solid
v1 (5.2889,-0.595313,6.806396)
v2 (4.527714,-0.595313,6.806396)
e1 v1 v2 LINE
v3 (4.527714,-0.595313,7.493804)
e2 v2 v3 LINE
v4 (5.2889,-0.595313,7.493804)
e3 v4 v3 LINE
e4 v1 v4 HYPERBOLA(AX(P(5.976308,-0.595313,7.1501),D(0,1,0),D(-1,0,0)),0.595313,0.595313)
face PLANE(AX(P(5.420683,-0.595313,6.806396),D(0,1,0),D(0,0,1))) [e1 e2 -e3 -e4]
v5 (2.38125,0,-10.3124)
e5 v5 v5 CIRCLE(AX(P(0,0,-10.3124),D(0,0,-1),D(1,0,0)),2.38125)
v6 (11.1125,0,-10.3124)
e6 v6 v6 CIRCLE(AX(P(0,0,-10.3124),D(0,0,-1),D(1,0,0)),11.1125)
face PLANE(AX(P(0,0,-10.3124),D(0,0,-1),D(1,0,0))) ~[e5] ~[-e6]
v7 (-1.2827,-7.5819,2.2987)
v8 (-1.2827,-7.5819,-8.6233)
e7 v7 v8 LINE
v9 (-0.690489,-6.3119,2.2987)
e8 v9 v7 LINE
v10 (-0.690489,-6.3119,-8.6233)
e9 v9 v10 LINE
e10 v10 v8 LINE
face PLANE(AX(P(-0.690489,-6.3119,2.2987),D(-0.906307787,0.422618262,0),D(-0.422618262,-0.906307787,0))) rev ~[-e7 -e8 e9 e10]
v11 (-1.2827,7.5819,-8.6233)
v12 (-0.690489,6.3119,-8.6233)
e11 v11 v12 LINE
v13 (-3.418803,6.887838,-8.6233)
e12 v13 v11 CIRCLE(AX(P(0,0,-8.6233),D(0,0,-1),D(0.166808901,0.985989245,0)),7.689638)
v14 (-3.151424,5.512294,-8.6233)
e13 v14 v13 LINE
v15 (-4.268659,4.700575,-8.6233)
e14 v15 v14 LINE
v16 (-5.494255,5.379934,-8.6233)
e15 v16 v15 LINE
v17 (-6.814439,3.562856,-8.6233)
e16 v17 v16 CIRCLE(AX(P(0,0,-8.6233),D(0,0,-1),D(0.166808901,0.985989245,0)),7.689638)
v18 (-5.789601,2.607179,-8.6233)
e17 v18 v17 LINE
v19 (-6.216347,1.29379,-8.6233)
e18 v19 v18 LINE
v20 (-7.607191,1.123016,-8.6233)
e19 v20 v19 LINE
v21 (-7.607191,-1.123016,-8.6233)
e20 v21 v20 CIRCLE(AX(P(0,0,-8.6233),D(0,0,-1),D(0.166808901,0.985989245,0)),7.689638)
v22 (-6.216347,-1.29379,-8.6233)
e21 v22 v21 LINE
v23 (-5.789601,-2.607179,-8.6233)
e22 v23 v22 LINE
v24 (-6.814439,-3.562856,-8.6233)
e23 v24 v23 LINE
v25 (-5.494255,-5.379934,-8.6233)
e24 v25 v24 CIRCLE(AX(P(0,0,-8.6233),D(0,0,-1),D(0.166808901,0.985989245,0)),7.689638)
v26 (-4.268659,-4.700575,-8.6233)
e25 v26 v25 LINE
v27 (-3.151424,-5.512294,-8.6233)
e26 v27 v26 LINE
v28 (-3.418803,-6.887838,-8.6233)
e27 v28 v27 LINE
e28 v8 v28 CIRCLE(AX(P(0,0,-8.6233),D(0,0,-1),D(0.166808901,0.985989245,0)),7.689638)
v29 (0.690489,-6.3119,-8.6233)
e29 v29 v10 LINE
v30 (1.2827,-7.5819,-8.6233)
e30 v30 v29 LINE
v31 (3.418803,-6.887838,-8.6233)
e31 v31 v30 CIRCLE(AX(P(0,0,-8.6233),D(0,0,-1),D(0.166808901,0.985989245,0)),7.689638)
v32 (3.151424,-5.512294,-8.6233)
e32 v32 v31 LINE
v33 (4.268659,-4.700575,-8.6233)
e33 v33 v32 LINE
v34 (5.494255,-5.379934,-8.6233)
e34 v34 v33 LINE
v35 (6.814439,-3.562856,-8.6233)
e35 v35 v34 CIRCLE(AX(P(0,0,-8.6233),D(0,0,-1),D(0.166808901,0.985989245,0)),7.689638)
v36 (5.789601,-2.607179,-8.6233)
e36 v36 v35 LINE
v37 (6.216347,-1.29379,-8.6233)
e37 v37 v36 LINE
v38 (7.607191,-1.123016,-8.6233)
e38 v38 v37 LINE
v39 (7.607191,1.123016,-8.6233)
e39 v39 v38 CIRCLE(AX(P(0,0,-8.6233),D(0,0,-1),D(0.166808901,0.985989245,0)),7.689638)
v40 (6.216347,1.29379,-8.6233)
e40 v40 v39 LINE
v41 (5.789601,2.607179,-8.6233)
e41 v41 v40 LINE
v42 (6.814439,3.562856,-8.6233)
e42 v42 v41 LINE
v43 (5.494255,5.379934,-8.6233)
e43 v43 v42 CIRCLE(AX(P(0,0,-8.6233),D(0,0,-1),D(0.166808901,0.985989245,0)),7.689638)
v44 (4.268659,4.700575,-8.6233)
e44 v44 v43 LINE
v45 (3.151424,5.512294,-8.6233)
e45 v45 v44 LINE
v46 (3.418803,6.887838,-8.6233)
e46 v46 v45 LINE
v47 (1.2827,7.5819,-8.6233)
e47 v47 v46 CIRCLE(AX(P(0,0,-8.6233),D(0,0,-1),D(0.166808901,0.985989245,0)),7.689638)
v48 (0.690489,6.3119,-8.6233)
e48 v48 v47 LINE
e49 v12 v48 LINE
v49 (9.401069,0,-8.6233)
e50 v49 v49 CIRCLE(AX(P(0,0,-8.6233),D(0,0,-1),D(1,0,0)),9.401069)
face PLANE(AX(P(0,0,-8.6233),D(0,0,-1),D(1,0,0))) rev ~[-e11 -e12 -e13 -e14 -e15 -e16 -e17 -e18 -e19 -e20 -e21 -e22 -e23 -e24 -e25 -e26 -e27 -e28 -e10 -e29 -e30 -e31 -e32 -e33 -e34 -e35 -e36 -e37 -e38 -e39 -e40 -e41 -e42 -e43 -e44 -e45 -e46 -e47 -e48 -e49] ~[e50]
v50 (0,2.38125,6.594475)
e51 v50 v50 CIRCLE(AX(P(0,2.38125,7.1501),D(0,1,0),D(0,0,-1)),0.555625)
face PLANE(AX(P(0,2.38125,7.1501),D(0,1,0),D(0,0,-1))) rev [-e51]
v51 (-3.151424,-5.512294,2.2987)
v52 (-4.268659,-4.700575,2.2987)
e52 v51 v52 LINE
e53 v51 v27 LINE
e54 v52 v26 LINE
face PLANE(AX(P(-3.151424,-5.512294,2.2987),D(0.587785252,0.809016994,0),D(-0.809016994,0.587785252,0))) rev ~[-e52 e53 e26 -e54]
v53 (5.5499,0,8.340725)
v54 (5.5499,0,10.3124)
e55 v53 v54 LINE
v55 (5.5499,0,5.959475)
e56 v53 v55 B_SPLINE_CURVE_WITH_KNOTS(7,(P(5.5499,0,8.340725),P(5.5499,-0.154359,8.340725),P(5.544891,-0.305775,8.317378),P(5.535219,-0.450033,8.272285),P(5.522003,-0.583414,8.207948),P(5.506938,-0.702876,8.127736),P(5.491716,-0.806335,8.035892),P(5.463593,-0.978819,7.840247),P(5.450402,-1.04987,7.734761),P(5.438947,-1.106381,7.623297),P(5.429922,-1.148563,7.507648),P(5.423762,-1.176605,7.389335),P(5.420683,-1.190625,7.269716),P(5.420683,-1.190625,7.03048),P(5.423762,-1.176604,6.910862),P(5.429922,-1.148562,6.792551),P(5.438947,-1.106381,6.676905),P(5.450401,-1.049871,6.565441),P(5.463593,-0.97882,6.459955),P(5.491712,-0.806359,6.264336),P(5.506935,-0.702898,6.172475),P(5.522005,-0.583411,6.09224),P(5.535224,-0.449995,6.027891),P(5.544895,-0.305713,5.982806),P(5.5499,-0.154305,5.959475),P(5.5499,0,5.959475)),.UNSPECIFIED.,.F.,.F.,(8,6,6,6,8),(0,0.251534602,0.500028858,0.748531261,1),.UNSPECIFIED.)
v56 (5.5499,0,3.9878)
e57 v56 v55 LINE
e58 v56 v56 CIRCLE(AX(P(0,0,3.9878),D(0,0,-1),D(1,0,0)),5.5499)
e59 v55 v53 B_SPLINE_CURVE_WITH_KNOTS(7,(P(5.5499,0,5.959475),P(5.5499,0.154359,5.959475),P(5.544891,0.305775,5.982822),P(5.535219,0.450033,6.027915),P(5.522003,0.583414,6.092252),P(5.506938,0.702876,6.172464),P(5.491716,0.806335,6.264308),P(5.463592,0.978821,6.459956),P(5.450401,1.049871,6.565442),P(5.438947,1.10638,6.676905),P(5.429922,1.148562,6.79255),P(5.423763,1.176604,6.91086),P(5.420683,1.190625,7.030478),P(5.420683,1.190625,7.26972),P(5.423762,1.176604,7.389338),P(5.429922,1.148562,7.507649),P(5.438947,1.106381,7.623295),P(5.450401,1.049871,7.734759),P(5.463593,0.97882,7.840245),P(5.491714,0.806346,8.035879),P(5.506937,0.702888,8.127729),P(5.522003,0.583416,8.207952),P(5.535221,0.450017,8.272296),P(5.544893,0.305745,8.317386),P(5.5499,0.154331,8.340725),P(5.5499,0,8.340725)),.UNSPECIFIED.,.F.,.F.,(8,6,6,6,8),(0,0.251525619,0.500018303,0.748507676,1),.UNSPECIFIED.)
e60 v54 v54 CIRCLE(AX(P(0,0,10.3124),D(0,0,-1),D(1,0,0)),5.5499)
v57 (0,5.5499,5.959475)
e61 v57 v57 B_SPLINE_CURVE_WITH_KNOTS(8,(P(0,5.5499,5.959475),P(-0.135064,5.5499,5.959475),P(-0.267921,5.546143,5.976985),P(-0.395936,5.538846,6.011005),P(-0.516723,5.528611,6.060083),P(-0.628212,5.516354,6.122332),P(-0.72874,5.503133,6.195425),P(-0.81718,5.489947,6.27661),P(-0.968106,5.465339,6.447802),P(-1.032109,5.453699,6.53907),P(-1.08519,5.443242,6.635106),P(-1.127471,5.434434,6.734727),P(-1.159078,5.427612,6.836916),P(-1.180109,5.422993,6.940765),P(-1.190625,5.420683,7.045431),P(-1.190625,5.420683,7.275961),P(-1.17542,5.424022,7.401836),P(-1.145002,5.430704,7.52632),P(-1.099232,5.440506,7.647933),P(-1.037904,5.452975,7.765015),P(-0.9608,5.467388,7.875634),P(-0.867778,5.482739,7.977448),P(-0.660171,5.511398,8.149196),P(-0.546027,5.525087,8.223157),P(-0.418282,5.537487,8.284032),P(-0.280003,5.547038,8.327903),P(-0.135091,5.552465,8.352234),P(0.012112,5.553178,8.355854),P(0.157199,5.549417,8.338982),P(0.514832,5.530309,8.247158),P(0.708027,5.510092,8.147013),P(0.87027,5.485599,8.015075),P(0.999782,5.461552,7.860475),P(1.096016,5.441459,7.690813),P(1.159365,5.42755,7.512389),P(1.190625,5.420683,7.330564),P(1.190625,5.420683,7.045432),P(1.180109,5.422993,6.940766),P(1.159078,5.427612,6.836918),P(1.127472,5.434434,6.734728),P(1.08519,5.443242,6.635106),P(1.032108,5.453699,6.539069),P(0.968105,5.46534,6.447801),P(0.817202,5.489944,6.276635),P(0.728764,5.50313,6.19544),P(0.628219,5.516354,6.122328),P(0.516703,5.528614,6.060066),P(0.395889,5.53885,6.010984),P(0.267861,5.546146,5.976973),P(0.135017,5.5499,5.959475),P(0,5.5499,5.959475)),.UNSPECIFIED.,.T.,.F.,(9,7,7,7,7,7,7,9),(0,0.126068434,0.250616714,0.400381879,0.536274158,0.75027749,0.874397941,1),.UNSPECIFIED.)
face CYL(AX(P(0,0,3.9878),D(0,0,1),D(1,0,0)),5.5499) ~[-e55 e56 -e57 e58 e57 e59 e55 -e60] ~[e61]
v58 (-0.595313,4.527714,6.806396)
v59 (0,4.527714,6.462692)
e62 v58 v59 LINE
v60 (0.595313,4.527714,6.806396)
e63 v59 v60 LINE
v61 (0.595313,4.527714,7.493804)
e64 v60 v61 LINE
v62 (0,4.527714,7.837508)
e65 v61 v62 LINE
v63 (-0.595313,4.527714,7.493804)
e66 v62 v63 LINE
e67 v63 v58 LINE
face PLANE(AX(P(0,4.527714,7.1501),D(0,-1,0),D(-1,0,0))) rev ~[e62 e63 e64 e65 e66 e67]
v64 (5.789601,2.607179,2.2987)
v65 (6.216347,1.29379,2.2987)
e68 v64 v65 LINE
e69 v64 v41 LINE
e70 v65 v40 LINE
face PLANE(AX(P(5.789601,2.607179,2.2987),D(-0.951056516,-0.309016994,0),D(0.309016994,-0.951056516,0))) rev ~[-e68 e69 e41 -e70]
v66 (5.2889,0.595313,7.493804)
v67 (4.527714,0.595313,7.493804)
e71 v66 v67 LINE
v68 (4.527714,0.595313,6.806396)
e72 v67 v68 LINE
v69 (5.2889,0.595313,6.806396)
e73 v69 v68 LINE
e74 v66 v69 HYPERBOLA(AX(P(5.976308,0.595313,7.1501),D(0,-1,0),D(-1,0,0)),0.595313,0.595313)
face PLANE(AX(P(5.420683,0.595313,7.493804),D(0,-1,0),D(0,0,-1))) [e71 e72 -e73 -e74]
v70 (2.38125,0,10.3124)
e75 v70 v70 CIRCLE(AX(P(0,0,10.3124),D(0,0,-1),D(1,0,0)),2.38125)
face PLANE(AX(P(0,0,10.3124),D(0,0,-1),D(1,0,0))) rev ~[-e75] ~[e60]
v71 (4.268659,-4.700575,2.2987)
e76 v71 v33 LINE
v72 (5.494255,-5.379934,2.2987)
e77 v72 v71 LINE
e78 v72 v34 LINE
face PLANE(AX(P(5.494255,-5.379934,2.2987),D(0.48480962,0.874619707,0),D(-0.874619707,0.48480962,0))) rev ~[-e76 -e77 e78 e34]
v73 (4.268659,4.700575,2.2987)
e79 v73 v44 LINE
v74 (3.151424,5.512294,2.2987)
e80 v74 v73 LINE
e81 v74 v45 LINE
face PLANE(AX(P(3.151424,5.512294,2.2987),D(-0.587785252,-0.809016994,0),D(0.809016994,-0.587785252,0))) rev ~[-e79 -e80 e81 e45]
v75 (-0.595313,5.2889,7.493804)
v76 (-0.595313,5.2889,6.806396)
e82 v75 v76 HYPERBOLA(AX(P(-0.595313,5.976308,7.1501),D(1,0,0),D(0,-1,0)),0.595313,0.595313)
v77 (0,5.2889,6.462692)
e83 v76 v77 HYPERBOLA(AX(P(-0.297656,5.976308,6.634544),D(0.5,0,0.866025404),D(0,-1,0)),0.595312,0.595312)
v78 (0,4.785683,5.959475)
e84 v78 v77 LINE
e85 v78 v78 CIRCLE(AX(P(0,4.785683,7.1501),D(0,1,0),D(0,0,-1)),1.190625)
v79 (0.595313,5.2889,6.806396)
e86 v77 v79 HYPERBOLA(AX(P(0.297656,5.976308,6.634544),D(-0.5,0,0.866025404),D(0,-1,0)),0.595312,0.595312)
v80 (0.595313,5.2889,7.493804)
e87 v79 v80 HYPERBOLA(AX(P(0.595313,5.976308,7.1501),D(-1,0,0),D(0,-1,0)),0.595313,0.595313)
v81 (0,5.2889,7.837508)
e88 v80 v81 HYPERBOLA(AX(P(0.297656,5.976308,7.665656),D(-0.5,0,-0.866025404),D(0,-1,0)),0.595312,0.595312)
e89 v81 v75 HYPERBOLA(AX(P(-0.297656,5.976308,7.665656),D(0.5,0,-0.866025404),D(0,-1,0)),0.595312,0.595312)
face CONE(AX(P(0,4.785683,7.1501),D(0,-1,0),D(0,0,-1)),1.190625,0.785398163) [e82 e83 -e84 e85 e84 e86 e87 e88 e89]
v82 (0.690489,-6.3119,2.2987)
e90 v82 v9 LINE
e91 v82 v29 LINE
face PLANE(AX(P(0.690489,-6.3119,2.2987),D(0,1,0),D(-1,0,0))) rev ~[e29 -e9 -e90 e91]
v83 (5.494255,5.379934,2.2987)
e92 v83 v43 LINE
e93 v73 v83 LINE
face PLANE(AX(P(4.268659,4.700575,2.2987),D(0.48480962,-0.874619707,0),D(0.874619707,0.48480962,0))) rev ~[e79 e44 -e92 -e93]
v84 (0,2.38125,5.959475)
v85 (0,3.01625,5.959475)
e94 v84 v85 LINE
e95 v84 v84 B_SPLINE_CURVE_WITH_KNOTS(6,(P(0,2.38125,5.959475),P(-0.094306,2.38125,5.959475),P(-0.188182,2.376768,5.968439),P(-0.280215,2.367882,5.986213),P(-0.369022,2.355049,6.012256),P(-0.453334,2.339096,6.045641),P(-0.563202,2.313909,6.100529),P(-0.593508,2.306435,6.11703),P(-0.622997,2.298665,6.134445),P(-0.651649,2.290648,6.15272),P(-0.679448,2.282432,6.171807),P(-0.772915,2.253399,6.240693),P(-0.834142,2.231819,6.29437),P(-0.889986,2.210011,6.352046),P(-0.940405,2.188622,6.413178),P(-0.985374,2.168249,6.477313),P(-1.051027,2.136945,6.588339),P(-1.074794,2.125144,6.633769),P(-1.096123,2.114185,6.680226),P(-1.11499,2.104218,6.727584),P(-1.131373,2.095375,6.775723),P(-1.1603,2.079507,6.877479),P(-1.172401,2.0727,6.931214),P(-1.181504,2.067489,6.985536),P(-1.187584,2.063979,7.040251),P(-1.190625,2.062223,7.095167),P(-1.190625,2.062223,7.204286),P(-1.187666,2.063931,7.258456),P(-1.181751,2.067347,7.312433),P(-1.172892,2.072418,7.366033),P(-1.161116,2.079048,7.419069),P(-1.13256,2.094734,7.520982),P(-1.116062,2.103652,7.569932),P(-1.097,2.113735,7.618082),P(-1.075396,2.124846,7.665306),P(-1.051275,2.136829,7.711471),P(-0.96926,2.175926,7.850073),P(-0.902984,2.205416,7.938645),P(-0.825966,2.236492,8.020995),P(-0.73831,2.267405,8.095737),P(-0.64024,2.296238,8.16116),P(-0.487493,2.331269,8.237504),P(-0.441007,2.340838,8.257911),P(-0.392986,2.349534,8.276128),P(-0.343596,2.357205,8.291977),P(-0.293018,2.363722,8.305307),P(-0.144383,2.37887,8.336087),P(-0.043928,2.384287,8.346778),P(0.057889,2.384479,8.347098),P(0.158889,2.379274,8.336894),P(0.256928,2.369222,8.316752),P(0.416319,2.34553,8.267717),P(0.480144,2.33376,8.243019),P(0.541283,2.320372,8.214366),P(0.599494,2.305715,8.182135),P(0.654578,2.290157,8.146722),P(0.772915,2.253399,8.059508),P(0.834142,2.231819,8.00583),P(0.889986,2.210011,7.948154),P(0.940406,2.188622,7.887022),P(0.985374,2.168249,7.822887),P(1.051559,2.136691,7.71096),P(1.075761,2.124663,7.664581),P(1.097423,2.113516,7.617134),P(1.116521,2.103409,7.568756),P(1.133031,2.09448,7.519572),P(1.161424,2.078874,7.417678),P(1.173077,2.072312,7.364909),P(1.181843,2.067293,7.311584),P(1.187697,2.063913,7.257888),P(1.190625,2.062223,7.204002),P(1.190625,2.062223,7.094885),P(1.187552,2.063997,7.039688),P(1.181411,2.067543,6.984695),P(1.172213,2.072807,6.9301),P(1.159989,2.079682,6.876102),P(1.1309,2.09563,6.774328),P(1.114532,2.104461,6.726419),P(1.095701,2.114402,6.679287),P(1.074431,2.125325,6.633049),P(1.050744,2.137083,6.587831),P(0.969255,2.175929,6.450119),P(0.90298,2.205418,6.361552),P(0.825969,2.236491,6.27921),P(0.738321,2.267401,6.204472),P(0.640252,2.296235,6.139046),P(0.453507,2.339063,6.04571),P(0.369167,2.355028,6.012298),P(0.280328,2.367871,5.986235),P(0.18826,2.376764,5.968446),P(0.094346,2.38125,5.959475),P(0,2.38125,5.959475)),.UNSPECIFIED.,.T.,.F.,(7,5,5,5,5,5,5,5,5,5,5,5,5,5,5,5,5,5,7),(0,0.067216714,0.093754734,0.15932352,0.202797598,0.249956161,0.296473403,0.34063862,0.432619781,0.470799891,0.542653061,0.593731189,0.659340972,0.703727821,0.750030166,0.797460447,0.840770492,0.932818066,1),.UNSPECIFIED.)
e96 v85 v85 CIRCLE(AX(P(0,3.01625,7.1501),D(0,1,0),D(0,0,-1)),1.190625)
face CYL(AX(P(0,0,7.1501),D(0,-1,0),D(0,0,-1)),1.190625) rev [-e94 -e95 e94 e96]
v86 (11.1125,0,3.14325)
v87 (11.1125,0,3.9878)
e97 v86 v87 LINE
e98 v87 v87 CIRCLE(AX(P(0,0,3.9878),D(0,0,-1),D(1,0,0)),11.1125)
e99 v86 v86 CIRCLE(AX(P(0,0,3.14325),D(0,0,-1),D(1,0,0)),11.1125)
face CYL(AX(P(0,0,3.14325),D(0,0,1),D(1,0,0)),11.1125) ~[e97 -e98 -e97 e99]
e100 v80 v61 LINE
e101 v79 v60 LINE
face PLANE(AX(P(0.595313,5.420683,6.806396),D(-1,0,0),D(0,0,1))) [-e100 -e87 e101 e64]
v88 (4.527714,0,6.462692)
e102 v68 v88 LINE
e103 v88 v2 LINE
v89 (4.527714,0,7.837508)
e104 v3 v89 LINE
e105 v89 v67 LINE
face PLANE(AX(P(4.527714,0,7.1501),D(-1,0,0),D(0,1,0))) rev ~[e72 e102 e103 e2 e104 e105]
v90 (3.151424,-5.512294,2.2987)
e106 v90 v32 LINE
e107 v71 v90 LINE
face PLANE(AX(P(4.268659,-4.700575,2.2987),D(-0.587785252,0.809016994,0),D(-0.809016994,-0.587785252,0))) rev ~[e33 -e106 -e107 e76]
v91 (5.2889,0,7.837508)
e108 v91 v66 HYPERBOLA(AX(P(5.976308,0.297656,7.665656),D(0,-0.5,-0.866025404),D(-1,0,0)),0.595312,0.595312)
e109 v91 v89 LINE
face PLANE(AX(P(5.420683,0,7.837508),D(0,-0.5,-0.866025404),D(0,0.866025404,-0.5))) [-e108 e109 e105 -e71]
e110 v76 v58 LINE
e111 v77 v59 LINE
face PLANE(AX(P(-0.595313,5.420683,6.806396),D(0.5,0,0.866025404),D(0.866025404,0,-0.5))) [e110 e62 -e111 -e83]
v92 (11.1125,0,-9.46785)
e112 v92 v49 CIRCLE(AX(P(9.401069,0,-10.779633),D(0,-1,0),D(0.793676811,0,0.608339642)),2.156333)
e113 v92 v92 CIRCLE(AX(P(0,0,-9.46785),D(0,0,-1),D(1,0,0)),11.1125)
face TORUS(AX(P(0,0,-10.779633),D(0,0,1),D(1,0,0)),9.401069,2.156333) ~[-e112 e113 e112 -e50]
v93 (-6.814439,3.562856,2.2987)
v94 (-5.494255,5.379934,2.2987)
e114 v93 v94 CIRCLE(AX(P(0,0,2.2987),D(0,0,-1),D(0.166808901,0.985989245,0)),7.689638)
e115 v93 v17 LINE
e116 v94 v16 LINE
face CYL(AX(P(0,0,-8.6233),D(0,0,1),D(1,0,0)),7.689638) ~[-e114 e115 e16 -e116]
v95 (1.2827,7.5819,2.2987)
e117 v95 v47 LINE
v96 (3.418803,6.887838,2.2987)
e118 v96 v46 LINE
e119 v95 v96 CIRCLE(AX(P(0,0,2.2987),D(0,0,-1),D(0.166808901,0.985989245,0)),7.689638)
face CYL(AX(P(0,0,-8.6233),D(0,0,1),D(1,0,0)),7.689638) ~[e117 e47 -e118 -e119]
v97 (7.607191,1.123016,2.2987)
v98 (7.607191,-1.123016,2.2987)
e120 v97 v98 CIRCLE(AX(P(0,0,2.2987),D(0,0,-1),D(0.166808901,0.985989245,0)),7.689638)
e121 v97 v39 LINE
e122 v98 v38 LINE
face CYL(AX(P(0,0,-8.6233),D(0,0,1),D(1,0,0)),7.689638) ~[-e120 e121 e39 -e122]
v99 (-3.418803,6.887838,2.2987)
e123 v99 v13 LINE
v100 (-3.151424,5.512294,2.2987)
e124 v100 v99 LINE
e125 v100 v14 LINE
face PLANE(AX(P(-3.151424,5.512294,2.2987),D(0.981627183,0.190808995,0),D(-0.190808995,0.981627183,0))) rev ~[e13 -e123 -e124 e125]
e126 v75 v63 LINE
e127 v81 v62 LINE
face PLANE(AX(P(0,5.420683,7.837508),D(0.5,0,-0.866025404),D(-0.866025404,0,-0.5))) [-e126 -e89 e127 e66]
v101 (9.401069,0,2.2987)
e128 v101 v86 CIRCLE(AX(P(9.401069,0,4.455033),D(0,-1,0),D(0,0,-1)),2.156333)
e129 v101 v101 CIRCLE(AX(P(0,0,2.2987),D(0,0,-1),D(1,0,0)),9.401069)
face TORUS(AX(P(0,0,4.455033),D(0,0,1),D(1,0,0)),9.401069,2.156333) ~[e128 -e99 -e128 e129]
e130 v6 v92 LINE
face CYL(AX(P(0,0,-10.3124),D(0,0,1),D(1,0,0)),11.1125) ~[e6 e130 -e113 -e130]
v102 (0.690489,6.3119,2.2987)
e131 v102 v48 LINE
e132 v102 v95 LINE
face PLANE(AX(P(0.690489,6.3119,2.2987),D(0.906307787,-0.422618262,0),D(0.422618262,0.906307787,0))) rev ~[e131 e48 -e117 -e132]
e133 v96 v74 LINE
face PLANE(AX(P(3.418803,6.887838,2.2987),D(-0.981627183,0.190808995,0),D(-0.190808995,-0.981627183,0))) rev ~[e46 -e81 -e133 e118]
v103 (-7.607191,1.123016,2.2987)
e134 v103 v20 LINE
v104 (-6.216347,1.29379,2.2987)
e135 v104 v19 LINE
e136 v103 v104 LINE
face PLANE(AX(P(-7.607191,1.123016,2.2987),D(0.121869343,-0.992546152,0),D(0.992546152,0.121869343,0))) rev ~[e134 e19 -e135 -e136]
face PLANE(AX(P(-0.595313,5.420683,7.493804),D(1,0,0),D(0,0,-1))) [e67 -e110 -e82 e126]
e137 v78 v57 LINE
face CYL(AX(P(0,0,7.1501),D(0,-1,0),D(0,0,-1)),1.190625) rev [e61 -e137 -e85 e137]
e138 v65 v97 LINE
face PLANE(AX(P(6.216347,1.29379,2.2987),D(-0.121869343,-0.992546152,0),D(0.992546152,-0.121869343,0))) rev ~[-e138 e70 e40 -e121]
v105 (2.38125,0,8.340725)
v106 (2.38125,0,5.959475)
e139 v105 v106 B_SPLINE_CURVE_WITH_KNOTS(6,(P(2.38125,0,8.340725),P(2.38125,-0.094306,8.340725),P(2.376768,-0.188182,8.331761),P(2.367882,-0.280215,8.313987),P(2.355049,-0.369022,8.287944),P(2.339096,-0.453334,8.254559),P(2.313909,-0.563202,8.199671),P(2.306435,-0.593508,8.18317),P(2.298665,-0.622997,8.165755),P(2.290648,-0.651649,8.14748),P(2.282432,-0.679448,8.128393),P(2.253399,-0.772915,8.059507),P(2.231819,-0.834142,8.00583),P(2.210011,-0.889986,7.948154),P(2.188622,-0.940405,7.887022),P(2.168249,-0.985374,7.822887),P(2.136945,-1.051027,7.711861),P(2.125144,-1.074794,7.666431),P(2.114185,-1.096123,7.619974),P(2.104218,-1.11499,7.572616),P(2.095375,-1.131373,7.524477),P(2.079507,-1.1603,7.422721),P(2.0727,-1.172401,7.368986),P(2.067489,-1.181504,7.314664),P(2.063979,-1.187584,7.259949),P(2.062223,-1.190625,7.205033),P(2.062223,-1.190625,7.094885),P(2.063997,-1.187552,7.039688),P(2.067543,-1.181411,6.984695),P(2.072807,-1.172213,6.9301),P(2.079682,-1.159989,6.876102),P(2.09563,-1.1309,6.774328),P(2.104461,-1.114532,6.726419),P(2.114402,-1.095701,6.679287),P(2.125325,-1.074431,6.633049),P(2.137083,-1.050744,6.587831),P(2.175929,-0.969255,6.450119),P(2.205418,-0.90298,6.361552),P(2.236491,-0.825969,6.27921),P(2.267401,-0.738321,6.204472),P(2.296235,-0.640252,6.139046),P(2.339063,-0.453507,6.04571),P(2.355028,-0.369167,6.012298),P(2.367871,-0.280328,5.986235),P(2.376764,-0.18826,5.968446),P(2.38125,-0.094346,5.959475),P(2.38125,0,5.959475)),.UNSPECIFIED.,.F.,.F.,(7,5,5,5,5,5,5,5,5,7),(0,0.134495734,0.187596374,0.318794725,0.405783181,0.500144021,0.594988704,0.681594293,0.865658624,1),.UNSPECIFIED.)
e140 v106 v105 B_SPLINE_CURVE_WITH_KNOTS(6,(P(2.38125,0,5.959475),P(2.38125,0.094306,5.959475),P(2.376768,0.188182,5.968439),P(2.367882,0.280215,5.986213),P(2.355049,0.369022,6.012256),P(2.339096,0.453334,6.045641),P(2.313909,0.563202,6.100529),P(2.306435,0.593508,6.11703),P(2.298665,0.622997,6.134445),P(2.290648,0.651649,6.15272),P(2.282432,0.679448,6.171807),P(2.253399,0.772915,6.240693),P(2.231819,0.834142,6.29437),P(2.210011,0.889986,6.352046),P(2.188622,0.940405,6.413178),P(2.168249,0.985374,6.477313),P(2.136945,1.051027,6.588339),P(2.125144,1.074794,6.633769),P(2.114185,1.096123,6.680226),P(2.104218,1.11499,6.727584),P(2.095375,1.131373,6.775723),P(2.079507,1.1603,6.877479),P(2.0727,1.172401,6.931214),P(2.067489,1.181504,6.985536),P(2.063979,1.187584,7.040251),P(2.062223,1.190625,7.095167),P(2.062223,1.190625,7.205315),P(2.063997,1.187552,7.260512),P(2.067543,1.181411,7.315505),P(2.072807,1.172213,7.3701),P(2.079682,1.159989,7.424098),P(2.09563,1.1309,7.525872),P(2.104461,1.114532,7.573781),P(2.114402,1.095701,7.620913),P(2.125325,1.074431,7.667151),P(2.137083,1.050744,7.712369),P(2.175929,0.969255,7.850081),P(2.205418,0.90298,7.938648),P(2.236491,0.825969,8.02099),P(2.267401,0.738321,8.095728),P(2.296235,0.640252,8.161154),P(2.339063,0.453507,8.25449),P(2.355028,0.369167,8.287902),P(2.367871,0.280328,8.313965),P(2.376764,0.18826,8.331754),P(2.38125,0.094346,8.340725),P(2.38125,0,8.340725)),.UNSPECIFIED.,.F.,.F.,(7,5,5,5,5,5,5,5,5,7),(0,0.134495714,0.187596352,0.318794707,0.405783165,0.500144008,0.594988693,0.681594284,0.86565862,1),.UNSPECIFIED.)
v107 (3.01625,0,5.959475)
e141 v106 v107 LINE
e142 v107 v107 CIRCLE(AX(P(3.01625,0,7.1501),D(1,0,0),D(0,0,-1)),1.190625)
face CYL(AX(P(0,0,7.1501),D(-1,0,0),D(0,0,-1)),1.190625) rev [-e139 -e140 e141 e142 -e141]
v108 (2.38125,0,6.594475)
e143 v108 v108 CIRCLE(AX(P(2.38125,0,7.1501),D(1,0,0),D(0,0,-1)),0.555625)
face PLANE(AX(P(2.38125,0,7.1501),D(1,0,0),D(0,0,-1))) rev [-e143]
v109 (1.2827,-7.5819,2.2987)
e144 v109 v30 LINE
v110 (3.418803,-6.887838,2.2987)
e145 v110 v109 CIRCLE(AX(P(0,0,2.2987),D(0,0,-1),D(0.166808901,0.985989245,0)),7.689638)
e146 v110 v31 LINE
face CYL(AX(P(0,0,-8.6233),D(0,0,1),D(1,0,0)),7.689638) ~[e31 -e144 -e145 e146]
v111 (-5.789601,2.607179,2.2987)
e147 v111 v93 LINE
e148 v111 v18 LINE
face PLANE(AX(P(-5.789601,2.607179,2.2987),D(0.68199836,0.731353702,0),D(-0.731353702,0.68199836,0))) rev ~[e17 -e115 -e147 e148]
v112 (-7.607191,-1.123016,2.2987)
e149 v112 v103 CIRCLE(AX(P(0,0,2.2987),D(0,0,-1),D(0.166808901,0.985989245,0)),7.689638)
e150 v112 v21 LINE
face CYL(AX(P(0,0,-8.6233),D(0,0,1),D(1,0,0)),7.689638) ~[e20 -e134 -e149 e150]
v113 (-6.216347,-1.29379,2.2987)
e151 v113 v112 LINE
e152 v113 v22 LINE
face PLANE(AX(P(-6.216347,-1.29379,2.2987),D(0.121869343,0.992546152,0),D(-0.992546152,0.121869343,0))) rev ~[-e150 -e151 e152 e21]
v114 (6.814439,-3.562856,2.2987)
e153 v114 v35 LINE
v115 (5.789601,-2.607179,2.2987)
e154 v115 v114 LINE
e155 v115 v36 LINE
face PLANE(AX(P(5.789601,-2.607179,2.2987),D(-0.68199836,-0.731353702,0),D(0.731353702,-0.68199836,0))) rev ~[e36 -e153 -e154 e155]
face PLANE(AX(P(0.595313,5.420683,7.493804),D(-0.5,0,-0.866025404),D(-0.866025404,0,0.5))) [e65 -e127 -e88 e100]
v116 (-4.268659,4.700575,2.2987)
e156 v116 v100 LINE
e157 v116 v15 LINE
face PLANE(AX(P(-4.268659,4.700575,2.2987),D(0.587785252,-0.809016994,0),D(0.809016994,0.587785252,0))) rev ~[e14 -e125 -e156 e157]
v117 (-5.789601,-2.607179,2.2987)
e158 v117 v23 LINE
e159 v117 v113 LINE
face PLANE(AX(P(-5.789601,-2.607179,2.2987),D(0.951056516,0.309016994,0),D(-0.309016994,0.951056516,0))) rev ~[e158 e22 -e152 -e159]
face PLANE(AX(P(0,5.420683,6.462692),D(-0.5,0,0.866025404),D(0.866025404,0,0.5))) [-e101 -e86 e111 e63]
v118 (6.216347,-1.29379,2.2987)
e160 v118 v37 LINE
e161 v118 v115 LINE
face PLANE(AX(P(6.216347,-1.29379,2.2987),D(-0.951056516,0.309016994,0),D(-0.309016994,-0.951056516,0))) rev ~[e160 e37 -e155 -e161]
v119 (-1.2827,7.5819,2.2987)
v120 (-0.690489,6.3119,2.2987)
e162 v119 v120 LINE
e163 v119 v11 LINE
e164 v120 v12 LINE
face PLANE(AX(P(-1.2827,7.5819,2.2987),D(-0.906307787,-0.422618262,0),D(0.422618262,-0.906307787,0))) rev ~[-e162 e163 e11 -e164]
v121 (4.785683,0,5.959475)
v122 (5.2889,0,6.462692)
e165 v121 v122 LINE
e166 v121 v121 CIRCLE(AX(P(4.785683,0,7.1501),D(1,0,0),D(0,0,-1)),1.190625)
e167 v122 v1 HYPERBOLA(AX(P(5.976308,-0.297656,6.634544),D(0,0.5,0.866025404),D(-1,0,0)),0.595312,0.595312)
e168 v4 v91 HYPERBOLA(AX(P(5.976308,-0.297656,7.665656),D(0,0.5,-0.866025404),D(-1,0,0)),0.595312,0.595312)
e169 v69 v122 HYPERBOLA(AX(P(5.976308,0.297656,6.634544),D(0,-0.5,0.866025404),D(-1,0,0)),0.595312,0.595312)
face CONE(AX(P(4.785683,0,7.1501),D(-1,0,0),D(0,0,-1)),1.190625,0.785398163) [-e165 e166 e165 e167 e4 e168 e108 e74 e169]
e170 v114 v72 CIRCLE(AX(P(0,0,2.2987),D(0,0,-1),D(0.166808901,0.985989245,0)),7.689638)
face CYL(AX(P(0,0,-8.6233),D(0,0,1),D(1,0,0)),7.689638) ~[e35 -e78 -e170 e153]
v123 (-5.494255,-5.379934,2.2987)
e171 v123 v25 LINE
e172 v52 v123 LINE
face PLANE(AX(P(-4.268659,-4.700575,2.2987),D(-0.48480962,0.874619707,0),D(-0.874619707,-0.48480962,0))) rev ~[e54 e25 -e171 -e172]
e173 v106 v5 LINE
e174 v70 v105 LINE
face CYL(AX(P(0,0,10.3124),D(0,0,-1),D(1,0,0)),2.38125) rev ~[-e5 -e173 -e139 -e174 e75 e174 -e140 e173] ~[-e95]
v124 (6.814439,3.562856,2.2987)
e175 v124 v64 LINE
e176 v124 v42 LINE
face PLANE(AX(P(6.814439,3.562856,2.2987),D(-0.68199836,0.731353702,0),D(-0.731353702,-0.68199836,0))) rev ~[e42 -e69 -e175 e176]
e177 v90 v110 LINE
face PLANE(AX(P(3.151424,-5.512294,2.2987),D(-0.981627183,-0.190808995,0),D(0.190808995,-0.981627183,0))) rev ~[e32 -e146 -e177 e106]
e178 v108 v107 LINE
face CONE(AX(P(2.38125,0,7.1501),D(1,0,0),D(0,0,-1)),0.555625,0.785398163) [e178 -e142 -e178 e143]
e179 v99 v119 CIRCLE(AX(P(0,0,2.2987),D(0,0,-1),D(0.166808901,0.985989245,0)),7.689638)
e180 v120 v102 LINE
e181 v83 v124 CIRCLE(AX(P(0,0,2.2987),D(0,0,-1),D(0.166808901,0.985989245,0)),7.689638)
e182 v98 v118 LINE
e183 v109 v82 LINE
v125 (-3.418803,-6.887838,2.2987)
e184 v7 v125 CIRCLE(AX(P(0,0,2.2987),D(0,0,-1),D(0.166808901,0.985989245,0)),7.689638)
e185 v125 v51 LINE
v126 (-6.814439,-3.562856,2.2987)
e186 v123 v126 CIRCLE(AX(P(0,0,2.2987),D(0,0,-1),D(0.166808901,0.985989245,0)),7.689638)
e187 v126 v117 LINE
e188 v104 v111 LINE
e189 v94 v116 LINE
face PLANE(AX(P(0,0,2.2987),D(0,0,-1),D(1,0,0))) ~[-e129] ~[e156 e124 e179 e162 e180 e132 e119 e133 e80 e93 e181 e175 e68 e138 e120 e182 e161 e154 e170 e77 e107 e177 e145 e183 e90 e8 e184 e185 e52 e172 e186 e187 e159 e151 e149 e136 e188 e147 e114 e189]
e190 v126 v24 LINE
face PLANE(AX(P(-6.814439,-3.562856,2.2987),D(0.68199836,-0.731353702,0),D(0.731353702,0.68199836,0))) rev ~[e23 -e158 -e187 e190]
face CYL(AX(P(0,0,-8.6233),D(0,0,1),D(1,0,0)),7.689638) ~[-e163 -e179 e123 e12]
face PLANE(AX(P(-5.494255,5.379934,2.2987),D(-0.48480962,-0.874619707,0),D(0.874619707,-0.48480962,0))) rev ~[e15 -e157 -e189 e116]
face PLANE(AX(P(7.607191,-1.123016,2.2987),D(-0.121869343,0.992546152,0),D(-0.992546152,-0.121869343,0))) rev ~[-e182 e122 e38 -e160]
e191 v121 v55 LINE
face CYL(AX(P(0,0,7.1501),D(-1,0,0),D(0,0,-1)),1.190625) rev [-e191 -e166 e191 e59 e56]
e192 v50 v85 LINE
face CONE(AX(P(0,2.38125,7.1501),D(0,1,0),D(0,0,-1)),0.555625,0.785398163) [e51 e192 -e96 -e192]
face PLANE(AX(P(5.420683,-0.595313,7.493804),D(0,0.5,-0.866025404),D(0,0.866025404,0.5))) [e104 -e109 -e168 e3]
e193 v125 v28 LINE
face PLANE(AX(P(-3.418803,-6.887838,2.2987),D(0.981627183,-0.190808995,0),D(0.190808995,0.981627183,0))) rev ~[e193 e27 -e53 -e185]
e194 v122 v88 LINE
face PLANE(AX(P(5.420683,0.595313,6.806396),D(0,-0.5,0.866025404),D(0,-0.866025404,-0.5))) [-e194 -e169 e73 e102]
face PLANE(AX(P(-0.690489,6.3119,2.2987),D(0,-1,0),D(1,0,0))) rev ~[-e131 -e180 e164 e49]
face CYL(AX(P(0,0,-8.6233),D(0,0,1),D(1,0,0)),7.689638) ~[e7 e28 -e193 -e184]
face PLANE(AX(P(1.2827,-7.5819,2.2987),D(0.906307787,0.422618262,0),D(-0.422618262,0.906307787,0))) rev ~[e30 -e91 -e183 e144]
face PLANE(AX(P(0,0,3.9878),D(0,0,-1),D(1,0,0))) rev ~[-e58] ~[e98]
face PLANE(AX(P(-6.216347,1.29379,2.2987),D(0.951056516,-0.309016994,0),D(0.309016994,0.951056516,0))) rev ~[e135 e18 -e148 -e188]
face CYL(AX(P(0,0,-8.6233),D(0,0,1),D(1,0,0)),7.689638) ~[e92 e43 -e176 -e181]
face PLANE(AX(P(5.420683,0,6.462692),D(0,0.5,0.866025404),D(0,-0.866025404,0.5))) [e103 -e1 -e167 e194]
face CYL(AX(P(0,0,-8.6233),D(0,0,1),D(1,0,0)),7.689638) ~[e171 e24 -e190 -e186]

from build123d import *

# Parameters (mm, degrees)
CUT_EXTRUDE1_START = 2.2987
CUT_EXTRUDE1_DEPTH = 10.922
CIRPATTERN1_COUNT  = 10
SKETCH4_R          = 1.190625
CUT_EXTRUDE2_DEPTH = 19.796832346
CUT_EXTRUDE3_DEPTH = 0.89296875
CIRPATTERN2_COUNT  = 2
CIRPATTERN2_ANGLE  = 90


with BuildPart() as part:
    # Sketch2 → Revolve1 (revolve)
    with BuildSketch(Plane(origin=(0, 0, 0), x_dir=(0, 0, -1), z_dir=(1, 0, 0)), mode=Mode.PRIVATE) as revolve1_sk:
        with BuildLine():
            Line((-10.3124, 2.38125), (10.3124, 2.38125))
            Line((10.3124, 2.38125), (10.3124, 11.1125))
            Line((10.3124, 11.1125), (9.46785, 11.1125))
            ThreePointArc((9.46785, 11.1125), (8.84593021, 10.355304295), (8.6233, 9.401068816))
            Line((8.6233, 9.401068816), (8.6233, 7.689637631))
            Line((8.6233, 7.689637631), (-2.2987, 7.689637631))
            Line((-2.2987, 7.689637631), (-2.2987, 9.401068816))
            ThreePointArc((-2.2987, 9.401068816), (-2.52133021, 10.355304295), (-3.14325, 11.1125))
            Line((-3.14325, 11.1125), (-3.9878, 11.1125))
            Line((-3.9878, 11.1125), (-3.9878, 5.5499))
            Line((-3.9878, 5.5499), (-10.3124, 5.5499))
            Line((-10.3124, 5.5499), (-10.3124, 2.38125))
        make_face()
    revolve(revolve1_sk.sketch.rotate(Axis((0, 0, 10.3124), (0, 0, -1)), 90), axis=Axis((0, 0, 10.3124), (0, 0, -1)))

    # Sketch3 → Cut-Extrude1 (cut)
    with BuildSketch(Plane.XY.offset(CUT_EXTRUDE1_START)):
        with BuildLine():
            Line((-0.690489274, 6.3119), (0.690489274, 6.3119))
            Line((0.690489274, 6.3119), (1.2827, 7.5819))
            ThreePointArc((1.2827, 7.5819), (0, 7.689637631), (-1.2827, 7.5819))
            Line((-1.2827, 7.5819), (-0.690489274, 6.3119))
        make_face()
    cut_extrude1 = extrude(amount=-CUT_EXTRUDE1_DEPTH, mode=Mode.SUBTRACT)

    # CirPattern1: Cut-Extrude1 ×10 about axis
    cirpattern1_axis = Axis((0, 0, 0), (0, 0, 1))
    for i in range(1, CIRPATTERN1_COUNT):
        add(cut_extrude1.rotate(cirpattern1_axis, i * 360 / CIRPATTERN1_COUNT), mode=Mode.SUBTRACT)

    # Sketch4 → Cut-Extrude2 (cut, through all)
    with BuildSketch(Plane(origin=(0, 0, 0), x_dir=(1, 0, 0), z_dir=(0, 1, 0))):
        with Locations(Location((0, -7.1501, 0), (0, 0, 90))):
            Circle(SKETCH4_R)
    cut_extrude2 = extrude(amount=CUT_EXTRUDE2_DEPTH, mode=Mode.SUBTRACT)

    # Sketch5 → Revolve2 (revolve)
    with BuildSketch(Plane.XY.offset(7.1501), mode=Mode.PRIVATE) as revolve2_sk:
        Polygon((0, 5.420682809), (0, 2.38125), (-0.555625, 2.38125), (-1.190625, 3.01625), (-1.190625, 4.785682809), (-0.555625, 5.420682809), align=None)
    revolve2 = revolve(revolve2_sk.sketch.rotate(Axis((0, 0, 7.1501), (0, 1, 0)), 270), axis=Axis((0, 0, 7.1501), (0, 1, 0)))

    # Sketch6 → Cut-Extrude3 (cut)
    with BuildSketch(Plane(origin=(0, 5.420682809, 0), x_dir=(-1, 0, 0), z_dir=(0, -1, 0))):
        Polygon((0, -6.462692336), (-0.5953125, -6.806396168), (-0.5953125, -7.493803832), (0, -7.837507664), (0.5953125, -7.493803832), (0.5953125, -6.806396168), align=None)
    cut_extrude3 = extrude(amount=CUT_EXTRUDE3_DEPTH, mode=Mode.SUBTRACT)

    # CirPattern2: Cut-Extrude2, Revolve2, Cut-Extrude3 ×2 about axis
    cirpattern2_axis = Axis((0, 0, 0), (0, 0, -1))
    add([cut_extrude2.rotate(cirpattern2_axis, i * CIRPATTERN2_ANGLE / (CIRPATTERN2_COUNT - 1)) for i in range(1, CIRPATTERN2_COUNT)], mode=Mode.SUBTRACT)
    add([revolve2.rotate(cirpattern2_axis, i * CIRPATTERN2_ANGLE / (CIRPATTERN2_COUNT - 1)) for i in range(1, CIRPATTERN2_COUNT)])
    add([cut_extrude3.rotate(cirpattern2_axis, i * CIRPATTERN2_ANGLE / (CIRPATTERN2_COUNT - 1)) for i in range(1, CIRPATTERN2_COUNT)], mode=Mode.SUBTRACT)


solid = part.part
